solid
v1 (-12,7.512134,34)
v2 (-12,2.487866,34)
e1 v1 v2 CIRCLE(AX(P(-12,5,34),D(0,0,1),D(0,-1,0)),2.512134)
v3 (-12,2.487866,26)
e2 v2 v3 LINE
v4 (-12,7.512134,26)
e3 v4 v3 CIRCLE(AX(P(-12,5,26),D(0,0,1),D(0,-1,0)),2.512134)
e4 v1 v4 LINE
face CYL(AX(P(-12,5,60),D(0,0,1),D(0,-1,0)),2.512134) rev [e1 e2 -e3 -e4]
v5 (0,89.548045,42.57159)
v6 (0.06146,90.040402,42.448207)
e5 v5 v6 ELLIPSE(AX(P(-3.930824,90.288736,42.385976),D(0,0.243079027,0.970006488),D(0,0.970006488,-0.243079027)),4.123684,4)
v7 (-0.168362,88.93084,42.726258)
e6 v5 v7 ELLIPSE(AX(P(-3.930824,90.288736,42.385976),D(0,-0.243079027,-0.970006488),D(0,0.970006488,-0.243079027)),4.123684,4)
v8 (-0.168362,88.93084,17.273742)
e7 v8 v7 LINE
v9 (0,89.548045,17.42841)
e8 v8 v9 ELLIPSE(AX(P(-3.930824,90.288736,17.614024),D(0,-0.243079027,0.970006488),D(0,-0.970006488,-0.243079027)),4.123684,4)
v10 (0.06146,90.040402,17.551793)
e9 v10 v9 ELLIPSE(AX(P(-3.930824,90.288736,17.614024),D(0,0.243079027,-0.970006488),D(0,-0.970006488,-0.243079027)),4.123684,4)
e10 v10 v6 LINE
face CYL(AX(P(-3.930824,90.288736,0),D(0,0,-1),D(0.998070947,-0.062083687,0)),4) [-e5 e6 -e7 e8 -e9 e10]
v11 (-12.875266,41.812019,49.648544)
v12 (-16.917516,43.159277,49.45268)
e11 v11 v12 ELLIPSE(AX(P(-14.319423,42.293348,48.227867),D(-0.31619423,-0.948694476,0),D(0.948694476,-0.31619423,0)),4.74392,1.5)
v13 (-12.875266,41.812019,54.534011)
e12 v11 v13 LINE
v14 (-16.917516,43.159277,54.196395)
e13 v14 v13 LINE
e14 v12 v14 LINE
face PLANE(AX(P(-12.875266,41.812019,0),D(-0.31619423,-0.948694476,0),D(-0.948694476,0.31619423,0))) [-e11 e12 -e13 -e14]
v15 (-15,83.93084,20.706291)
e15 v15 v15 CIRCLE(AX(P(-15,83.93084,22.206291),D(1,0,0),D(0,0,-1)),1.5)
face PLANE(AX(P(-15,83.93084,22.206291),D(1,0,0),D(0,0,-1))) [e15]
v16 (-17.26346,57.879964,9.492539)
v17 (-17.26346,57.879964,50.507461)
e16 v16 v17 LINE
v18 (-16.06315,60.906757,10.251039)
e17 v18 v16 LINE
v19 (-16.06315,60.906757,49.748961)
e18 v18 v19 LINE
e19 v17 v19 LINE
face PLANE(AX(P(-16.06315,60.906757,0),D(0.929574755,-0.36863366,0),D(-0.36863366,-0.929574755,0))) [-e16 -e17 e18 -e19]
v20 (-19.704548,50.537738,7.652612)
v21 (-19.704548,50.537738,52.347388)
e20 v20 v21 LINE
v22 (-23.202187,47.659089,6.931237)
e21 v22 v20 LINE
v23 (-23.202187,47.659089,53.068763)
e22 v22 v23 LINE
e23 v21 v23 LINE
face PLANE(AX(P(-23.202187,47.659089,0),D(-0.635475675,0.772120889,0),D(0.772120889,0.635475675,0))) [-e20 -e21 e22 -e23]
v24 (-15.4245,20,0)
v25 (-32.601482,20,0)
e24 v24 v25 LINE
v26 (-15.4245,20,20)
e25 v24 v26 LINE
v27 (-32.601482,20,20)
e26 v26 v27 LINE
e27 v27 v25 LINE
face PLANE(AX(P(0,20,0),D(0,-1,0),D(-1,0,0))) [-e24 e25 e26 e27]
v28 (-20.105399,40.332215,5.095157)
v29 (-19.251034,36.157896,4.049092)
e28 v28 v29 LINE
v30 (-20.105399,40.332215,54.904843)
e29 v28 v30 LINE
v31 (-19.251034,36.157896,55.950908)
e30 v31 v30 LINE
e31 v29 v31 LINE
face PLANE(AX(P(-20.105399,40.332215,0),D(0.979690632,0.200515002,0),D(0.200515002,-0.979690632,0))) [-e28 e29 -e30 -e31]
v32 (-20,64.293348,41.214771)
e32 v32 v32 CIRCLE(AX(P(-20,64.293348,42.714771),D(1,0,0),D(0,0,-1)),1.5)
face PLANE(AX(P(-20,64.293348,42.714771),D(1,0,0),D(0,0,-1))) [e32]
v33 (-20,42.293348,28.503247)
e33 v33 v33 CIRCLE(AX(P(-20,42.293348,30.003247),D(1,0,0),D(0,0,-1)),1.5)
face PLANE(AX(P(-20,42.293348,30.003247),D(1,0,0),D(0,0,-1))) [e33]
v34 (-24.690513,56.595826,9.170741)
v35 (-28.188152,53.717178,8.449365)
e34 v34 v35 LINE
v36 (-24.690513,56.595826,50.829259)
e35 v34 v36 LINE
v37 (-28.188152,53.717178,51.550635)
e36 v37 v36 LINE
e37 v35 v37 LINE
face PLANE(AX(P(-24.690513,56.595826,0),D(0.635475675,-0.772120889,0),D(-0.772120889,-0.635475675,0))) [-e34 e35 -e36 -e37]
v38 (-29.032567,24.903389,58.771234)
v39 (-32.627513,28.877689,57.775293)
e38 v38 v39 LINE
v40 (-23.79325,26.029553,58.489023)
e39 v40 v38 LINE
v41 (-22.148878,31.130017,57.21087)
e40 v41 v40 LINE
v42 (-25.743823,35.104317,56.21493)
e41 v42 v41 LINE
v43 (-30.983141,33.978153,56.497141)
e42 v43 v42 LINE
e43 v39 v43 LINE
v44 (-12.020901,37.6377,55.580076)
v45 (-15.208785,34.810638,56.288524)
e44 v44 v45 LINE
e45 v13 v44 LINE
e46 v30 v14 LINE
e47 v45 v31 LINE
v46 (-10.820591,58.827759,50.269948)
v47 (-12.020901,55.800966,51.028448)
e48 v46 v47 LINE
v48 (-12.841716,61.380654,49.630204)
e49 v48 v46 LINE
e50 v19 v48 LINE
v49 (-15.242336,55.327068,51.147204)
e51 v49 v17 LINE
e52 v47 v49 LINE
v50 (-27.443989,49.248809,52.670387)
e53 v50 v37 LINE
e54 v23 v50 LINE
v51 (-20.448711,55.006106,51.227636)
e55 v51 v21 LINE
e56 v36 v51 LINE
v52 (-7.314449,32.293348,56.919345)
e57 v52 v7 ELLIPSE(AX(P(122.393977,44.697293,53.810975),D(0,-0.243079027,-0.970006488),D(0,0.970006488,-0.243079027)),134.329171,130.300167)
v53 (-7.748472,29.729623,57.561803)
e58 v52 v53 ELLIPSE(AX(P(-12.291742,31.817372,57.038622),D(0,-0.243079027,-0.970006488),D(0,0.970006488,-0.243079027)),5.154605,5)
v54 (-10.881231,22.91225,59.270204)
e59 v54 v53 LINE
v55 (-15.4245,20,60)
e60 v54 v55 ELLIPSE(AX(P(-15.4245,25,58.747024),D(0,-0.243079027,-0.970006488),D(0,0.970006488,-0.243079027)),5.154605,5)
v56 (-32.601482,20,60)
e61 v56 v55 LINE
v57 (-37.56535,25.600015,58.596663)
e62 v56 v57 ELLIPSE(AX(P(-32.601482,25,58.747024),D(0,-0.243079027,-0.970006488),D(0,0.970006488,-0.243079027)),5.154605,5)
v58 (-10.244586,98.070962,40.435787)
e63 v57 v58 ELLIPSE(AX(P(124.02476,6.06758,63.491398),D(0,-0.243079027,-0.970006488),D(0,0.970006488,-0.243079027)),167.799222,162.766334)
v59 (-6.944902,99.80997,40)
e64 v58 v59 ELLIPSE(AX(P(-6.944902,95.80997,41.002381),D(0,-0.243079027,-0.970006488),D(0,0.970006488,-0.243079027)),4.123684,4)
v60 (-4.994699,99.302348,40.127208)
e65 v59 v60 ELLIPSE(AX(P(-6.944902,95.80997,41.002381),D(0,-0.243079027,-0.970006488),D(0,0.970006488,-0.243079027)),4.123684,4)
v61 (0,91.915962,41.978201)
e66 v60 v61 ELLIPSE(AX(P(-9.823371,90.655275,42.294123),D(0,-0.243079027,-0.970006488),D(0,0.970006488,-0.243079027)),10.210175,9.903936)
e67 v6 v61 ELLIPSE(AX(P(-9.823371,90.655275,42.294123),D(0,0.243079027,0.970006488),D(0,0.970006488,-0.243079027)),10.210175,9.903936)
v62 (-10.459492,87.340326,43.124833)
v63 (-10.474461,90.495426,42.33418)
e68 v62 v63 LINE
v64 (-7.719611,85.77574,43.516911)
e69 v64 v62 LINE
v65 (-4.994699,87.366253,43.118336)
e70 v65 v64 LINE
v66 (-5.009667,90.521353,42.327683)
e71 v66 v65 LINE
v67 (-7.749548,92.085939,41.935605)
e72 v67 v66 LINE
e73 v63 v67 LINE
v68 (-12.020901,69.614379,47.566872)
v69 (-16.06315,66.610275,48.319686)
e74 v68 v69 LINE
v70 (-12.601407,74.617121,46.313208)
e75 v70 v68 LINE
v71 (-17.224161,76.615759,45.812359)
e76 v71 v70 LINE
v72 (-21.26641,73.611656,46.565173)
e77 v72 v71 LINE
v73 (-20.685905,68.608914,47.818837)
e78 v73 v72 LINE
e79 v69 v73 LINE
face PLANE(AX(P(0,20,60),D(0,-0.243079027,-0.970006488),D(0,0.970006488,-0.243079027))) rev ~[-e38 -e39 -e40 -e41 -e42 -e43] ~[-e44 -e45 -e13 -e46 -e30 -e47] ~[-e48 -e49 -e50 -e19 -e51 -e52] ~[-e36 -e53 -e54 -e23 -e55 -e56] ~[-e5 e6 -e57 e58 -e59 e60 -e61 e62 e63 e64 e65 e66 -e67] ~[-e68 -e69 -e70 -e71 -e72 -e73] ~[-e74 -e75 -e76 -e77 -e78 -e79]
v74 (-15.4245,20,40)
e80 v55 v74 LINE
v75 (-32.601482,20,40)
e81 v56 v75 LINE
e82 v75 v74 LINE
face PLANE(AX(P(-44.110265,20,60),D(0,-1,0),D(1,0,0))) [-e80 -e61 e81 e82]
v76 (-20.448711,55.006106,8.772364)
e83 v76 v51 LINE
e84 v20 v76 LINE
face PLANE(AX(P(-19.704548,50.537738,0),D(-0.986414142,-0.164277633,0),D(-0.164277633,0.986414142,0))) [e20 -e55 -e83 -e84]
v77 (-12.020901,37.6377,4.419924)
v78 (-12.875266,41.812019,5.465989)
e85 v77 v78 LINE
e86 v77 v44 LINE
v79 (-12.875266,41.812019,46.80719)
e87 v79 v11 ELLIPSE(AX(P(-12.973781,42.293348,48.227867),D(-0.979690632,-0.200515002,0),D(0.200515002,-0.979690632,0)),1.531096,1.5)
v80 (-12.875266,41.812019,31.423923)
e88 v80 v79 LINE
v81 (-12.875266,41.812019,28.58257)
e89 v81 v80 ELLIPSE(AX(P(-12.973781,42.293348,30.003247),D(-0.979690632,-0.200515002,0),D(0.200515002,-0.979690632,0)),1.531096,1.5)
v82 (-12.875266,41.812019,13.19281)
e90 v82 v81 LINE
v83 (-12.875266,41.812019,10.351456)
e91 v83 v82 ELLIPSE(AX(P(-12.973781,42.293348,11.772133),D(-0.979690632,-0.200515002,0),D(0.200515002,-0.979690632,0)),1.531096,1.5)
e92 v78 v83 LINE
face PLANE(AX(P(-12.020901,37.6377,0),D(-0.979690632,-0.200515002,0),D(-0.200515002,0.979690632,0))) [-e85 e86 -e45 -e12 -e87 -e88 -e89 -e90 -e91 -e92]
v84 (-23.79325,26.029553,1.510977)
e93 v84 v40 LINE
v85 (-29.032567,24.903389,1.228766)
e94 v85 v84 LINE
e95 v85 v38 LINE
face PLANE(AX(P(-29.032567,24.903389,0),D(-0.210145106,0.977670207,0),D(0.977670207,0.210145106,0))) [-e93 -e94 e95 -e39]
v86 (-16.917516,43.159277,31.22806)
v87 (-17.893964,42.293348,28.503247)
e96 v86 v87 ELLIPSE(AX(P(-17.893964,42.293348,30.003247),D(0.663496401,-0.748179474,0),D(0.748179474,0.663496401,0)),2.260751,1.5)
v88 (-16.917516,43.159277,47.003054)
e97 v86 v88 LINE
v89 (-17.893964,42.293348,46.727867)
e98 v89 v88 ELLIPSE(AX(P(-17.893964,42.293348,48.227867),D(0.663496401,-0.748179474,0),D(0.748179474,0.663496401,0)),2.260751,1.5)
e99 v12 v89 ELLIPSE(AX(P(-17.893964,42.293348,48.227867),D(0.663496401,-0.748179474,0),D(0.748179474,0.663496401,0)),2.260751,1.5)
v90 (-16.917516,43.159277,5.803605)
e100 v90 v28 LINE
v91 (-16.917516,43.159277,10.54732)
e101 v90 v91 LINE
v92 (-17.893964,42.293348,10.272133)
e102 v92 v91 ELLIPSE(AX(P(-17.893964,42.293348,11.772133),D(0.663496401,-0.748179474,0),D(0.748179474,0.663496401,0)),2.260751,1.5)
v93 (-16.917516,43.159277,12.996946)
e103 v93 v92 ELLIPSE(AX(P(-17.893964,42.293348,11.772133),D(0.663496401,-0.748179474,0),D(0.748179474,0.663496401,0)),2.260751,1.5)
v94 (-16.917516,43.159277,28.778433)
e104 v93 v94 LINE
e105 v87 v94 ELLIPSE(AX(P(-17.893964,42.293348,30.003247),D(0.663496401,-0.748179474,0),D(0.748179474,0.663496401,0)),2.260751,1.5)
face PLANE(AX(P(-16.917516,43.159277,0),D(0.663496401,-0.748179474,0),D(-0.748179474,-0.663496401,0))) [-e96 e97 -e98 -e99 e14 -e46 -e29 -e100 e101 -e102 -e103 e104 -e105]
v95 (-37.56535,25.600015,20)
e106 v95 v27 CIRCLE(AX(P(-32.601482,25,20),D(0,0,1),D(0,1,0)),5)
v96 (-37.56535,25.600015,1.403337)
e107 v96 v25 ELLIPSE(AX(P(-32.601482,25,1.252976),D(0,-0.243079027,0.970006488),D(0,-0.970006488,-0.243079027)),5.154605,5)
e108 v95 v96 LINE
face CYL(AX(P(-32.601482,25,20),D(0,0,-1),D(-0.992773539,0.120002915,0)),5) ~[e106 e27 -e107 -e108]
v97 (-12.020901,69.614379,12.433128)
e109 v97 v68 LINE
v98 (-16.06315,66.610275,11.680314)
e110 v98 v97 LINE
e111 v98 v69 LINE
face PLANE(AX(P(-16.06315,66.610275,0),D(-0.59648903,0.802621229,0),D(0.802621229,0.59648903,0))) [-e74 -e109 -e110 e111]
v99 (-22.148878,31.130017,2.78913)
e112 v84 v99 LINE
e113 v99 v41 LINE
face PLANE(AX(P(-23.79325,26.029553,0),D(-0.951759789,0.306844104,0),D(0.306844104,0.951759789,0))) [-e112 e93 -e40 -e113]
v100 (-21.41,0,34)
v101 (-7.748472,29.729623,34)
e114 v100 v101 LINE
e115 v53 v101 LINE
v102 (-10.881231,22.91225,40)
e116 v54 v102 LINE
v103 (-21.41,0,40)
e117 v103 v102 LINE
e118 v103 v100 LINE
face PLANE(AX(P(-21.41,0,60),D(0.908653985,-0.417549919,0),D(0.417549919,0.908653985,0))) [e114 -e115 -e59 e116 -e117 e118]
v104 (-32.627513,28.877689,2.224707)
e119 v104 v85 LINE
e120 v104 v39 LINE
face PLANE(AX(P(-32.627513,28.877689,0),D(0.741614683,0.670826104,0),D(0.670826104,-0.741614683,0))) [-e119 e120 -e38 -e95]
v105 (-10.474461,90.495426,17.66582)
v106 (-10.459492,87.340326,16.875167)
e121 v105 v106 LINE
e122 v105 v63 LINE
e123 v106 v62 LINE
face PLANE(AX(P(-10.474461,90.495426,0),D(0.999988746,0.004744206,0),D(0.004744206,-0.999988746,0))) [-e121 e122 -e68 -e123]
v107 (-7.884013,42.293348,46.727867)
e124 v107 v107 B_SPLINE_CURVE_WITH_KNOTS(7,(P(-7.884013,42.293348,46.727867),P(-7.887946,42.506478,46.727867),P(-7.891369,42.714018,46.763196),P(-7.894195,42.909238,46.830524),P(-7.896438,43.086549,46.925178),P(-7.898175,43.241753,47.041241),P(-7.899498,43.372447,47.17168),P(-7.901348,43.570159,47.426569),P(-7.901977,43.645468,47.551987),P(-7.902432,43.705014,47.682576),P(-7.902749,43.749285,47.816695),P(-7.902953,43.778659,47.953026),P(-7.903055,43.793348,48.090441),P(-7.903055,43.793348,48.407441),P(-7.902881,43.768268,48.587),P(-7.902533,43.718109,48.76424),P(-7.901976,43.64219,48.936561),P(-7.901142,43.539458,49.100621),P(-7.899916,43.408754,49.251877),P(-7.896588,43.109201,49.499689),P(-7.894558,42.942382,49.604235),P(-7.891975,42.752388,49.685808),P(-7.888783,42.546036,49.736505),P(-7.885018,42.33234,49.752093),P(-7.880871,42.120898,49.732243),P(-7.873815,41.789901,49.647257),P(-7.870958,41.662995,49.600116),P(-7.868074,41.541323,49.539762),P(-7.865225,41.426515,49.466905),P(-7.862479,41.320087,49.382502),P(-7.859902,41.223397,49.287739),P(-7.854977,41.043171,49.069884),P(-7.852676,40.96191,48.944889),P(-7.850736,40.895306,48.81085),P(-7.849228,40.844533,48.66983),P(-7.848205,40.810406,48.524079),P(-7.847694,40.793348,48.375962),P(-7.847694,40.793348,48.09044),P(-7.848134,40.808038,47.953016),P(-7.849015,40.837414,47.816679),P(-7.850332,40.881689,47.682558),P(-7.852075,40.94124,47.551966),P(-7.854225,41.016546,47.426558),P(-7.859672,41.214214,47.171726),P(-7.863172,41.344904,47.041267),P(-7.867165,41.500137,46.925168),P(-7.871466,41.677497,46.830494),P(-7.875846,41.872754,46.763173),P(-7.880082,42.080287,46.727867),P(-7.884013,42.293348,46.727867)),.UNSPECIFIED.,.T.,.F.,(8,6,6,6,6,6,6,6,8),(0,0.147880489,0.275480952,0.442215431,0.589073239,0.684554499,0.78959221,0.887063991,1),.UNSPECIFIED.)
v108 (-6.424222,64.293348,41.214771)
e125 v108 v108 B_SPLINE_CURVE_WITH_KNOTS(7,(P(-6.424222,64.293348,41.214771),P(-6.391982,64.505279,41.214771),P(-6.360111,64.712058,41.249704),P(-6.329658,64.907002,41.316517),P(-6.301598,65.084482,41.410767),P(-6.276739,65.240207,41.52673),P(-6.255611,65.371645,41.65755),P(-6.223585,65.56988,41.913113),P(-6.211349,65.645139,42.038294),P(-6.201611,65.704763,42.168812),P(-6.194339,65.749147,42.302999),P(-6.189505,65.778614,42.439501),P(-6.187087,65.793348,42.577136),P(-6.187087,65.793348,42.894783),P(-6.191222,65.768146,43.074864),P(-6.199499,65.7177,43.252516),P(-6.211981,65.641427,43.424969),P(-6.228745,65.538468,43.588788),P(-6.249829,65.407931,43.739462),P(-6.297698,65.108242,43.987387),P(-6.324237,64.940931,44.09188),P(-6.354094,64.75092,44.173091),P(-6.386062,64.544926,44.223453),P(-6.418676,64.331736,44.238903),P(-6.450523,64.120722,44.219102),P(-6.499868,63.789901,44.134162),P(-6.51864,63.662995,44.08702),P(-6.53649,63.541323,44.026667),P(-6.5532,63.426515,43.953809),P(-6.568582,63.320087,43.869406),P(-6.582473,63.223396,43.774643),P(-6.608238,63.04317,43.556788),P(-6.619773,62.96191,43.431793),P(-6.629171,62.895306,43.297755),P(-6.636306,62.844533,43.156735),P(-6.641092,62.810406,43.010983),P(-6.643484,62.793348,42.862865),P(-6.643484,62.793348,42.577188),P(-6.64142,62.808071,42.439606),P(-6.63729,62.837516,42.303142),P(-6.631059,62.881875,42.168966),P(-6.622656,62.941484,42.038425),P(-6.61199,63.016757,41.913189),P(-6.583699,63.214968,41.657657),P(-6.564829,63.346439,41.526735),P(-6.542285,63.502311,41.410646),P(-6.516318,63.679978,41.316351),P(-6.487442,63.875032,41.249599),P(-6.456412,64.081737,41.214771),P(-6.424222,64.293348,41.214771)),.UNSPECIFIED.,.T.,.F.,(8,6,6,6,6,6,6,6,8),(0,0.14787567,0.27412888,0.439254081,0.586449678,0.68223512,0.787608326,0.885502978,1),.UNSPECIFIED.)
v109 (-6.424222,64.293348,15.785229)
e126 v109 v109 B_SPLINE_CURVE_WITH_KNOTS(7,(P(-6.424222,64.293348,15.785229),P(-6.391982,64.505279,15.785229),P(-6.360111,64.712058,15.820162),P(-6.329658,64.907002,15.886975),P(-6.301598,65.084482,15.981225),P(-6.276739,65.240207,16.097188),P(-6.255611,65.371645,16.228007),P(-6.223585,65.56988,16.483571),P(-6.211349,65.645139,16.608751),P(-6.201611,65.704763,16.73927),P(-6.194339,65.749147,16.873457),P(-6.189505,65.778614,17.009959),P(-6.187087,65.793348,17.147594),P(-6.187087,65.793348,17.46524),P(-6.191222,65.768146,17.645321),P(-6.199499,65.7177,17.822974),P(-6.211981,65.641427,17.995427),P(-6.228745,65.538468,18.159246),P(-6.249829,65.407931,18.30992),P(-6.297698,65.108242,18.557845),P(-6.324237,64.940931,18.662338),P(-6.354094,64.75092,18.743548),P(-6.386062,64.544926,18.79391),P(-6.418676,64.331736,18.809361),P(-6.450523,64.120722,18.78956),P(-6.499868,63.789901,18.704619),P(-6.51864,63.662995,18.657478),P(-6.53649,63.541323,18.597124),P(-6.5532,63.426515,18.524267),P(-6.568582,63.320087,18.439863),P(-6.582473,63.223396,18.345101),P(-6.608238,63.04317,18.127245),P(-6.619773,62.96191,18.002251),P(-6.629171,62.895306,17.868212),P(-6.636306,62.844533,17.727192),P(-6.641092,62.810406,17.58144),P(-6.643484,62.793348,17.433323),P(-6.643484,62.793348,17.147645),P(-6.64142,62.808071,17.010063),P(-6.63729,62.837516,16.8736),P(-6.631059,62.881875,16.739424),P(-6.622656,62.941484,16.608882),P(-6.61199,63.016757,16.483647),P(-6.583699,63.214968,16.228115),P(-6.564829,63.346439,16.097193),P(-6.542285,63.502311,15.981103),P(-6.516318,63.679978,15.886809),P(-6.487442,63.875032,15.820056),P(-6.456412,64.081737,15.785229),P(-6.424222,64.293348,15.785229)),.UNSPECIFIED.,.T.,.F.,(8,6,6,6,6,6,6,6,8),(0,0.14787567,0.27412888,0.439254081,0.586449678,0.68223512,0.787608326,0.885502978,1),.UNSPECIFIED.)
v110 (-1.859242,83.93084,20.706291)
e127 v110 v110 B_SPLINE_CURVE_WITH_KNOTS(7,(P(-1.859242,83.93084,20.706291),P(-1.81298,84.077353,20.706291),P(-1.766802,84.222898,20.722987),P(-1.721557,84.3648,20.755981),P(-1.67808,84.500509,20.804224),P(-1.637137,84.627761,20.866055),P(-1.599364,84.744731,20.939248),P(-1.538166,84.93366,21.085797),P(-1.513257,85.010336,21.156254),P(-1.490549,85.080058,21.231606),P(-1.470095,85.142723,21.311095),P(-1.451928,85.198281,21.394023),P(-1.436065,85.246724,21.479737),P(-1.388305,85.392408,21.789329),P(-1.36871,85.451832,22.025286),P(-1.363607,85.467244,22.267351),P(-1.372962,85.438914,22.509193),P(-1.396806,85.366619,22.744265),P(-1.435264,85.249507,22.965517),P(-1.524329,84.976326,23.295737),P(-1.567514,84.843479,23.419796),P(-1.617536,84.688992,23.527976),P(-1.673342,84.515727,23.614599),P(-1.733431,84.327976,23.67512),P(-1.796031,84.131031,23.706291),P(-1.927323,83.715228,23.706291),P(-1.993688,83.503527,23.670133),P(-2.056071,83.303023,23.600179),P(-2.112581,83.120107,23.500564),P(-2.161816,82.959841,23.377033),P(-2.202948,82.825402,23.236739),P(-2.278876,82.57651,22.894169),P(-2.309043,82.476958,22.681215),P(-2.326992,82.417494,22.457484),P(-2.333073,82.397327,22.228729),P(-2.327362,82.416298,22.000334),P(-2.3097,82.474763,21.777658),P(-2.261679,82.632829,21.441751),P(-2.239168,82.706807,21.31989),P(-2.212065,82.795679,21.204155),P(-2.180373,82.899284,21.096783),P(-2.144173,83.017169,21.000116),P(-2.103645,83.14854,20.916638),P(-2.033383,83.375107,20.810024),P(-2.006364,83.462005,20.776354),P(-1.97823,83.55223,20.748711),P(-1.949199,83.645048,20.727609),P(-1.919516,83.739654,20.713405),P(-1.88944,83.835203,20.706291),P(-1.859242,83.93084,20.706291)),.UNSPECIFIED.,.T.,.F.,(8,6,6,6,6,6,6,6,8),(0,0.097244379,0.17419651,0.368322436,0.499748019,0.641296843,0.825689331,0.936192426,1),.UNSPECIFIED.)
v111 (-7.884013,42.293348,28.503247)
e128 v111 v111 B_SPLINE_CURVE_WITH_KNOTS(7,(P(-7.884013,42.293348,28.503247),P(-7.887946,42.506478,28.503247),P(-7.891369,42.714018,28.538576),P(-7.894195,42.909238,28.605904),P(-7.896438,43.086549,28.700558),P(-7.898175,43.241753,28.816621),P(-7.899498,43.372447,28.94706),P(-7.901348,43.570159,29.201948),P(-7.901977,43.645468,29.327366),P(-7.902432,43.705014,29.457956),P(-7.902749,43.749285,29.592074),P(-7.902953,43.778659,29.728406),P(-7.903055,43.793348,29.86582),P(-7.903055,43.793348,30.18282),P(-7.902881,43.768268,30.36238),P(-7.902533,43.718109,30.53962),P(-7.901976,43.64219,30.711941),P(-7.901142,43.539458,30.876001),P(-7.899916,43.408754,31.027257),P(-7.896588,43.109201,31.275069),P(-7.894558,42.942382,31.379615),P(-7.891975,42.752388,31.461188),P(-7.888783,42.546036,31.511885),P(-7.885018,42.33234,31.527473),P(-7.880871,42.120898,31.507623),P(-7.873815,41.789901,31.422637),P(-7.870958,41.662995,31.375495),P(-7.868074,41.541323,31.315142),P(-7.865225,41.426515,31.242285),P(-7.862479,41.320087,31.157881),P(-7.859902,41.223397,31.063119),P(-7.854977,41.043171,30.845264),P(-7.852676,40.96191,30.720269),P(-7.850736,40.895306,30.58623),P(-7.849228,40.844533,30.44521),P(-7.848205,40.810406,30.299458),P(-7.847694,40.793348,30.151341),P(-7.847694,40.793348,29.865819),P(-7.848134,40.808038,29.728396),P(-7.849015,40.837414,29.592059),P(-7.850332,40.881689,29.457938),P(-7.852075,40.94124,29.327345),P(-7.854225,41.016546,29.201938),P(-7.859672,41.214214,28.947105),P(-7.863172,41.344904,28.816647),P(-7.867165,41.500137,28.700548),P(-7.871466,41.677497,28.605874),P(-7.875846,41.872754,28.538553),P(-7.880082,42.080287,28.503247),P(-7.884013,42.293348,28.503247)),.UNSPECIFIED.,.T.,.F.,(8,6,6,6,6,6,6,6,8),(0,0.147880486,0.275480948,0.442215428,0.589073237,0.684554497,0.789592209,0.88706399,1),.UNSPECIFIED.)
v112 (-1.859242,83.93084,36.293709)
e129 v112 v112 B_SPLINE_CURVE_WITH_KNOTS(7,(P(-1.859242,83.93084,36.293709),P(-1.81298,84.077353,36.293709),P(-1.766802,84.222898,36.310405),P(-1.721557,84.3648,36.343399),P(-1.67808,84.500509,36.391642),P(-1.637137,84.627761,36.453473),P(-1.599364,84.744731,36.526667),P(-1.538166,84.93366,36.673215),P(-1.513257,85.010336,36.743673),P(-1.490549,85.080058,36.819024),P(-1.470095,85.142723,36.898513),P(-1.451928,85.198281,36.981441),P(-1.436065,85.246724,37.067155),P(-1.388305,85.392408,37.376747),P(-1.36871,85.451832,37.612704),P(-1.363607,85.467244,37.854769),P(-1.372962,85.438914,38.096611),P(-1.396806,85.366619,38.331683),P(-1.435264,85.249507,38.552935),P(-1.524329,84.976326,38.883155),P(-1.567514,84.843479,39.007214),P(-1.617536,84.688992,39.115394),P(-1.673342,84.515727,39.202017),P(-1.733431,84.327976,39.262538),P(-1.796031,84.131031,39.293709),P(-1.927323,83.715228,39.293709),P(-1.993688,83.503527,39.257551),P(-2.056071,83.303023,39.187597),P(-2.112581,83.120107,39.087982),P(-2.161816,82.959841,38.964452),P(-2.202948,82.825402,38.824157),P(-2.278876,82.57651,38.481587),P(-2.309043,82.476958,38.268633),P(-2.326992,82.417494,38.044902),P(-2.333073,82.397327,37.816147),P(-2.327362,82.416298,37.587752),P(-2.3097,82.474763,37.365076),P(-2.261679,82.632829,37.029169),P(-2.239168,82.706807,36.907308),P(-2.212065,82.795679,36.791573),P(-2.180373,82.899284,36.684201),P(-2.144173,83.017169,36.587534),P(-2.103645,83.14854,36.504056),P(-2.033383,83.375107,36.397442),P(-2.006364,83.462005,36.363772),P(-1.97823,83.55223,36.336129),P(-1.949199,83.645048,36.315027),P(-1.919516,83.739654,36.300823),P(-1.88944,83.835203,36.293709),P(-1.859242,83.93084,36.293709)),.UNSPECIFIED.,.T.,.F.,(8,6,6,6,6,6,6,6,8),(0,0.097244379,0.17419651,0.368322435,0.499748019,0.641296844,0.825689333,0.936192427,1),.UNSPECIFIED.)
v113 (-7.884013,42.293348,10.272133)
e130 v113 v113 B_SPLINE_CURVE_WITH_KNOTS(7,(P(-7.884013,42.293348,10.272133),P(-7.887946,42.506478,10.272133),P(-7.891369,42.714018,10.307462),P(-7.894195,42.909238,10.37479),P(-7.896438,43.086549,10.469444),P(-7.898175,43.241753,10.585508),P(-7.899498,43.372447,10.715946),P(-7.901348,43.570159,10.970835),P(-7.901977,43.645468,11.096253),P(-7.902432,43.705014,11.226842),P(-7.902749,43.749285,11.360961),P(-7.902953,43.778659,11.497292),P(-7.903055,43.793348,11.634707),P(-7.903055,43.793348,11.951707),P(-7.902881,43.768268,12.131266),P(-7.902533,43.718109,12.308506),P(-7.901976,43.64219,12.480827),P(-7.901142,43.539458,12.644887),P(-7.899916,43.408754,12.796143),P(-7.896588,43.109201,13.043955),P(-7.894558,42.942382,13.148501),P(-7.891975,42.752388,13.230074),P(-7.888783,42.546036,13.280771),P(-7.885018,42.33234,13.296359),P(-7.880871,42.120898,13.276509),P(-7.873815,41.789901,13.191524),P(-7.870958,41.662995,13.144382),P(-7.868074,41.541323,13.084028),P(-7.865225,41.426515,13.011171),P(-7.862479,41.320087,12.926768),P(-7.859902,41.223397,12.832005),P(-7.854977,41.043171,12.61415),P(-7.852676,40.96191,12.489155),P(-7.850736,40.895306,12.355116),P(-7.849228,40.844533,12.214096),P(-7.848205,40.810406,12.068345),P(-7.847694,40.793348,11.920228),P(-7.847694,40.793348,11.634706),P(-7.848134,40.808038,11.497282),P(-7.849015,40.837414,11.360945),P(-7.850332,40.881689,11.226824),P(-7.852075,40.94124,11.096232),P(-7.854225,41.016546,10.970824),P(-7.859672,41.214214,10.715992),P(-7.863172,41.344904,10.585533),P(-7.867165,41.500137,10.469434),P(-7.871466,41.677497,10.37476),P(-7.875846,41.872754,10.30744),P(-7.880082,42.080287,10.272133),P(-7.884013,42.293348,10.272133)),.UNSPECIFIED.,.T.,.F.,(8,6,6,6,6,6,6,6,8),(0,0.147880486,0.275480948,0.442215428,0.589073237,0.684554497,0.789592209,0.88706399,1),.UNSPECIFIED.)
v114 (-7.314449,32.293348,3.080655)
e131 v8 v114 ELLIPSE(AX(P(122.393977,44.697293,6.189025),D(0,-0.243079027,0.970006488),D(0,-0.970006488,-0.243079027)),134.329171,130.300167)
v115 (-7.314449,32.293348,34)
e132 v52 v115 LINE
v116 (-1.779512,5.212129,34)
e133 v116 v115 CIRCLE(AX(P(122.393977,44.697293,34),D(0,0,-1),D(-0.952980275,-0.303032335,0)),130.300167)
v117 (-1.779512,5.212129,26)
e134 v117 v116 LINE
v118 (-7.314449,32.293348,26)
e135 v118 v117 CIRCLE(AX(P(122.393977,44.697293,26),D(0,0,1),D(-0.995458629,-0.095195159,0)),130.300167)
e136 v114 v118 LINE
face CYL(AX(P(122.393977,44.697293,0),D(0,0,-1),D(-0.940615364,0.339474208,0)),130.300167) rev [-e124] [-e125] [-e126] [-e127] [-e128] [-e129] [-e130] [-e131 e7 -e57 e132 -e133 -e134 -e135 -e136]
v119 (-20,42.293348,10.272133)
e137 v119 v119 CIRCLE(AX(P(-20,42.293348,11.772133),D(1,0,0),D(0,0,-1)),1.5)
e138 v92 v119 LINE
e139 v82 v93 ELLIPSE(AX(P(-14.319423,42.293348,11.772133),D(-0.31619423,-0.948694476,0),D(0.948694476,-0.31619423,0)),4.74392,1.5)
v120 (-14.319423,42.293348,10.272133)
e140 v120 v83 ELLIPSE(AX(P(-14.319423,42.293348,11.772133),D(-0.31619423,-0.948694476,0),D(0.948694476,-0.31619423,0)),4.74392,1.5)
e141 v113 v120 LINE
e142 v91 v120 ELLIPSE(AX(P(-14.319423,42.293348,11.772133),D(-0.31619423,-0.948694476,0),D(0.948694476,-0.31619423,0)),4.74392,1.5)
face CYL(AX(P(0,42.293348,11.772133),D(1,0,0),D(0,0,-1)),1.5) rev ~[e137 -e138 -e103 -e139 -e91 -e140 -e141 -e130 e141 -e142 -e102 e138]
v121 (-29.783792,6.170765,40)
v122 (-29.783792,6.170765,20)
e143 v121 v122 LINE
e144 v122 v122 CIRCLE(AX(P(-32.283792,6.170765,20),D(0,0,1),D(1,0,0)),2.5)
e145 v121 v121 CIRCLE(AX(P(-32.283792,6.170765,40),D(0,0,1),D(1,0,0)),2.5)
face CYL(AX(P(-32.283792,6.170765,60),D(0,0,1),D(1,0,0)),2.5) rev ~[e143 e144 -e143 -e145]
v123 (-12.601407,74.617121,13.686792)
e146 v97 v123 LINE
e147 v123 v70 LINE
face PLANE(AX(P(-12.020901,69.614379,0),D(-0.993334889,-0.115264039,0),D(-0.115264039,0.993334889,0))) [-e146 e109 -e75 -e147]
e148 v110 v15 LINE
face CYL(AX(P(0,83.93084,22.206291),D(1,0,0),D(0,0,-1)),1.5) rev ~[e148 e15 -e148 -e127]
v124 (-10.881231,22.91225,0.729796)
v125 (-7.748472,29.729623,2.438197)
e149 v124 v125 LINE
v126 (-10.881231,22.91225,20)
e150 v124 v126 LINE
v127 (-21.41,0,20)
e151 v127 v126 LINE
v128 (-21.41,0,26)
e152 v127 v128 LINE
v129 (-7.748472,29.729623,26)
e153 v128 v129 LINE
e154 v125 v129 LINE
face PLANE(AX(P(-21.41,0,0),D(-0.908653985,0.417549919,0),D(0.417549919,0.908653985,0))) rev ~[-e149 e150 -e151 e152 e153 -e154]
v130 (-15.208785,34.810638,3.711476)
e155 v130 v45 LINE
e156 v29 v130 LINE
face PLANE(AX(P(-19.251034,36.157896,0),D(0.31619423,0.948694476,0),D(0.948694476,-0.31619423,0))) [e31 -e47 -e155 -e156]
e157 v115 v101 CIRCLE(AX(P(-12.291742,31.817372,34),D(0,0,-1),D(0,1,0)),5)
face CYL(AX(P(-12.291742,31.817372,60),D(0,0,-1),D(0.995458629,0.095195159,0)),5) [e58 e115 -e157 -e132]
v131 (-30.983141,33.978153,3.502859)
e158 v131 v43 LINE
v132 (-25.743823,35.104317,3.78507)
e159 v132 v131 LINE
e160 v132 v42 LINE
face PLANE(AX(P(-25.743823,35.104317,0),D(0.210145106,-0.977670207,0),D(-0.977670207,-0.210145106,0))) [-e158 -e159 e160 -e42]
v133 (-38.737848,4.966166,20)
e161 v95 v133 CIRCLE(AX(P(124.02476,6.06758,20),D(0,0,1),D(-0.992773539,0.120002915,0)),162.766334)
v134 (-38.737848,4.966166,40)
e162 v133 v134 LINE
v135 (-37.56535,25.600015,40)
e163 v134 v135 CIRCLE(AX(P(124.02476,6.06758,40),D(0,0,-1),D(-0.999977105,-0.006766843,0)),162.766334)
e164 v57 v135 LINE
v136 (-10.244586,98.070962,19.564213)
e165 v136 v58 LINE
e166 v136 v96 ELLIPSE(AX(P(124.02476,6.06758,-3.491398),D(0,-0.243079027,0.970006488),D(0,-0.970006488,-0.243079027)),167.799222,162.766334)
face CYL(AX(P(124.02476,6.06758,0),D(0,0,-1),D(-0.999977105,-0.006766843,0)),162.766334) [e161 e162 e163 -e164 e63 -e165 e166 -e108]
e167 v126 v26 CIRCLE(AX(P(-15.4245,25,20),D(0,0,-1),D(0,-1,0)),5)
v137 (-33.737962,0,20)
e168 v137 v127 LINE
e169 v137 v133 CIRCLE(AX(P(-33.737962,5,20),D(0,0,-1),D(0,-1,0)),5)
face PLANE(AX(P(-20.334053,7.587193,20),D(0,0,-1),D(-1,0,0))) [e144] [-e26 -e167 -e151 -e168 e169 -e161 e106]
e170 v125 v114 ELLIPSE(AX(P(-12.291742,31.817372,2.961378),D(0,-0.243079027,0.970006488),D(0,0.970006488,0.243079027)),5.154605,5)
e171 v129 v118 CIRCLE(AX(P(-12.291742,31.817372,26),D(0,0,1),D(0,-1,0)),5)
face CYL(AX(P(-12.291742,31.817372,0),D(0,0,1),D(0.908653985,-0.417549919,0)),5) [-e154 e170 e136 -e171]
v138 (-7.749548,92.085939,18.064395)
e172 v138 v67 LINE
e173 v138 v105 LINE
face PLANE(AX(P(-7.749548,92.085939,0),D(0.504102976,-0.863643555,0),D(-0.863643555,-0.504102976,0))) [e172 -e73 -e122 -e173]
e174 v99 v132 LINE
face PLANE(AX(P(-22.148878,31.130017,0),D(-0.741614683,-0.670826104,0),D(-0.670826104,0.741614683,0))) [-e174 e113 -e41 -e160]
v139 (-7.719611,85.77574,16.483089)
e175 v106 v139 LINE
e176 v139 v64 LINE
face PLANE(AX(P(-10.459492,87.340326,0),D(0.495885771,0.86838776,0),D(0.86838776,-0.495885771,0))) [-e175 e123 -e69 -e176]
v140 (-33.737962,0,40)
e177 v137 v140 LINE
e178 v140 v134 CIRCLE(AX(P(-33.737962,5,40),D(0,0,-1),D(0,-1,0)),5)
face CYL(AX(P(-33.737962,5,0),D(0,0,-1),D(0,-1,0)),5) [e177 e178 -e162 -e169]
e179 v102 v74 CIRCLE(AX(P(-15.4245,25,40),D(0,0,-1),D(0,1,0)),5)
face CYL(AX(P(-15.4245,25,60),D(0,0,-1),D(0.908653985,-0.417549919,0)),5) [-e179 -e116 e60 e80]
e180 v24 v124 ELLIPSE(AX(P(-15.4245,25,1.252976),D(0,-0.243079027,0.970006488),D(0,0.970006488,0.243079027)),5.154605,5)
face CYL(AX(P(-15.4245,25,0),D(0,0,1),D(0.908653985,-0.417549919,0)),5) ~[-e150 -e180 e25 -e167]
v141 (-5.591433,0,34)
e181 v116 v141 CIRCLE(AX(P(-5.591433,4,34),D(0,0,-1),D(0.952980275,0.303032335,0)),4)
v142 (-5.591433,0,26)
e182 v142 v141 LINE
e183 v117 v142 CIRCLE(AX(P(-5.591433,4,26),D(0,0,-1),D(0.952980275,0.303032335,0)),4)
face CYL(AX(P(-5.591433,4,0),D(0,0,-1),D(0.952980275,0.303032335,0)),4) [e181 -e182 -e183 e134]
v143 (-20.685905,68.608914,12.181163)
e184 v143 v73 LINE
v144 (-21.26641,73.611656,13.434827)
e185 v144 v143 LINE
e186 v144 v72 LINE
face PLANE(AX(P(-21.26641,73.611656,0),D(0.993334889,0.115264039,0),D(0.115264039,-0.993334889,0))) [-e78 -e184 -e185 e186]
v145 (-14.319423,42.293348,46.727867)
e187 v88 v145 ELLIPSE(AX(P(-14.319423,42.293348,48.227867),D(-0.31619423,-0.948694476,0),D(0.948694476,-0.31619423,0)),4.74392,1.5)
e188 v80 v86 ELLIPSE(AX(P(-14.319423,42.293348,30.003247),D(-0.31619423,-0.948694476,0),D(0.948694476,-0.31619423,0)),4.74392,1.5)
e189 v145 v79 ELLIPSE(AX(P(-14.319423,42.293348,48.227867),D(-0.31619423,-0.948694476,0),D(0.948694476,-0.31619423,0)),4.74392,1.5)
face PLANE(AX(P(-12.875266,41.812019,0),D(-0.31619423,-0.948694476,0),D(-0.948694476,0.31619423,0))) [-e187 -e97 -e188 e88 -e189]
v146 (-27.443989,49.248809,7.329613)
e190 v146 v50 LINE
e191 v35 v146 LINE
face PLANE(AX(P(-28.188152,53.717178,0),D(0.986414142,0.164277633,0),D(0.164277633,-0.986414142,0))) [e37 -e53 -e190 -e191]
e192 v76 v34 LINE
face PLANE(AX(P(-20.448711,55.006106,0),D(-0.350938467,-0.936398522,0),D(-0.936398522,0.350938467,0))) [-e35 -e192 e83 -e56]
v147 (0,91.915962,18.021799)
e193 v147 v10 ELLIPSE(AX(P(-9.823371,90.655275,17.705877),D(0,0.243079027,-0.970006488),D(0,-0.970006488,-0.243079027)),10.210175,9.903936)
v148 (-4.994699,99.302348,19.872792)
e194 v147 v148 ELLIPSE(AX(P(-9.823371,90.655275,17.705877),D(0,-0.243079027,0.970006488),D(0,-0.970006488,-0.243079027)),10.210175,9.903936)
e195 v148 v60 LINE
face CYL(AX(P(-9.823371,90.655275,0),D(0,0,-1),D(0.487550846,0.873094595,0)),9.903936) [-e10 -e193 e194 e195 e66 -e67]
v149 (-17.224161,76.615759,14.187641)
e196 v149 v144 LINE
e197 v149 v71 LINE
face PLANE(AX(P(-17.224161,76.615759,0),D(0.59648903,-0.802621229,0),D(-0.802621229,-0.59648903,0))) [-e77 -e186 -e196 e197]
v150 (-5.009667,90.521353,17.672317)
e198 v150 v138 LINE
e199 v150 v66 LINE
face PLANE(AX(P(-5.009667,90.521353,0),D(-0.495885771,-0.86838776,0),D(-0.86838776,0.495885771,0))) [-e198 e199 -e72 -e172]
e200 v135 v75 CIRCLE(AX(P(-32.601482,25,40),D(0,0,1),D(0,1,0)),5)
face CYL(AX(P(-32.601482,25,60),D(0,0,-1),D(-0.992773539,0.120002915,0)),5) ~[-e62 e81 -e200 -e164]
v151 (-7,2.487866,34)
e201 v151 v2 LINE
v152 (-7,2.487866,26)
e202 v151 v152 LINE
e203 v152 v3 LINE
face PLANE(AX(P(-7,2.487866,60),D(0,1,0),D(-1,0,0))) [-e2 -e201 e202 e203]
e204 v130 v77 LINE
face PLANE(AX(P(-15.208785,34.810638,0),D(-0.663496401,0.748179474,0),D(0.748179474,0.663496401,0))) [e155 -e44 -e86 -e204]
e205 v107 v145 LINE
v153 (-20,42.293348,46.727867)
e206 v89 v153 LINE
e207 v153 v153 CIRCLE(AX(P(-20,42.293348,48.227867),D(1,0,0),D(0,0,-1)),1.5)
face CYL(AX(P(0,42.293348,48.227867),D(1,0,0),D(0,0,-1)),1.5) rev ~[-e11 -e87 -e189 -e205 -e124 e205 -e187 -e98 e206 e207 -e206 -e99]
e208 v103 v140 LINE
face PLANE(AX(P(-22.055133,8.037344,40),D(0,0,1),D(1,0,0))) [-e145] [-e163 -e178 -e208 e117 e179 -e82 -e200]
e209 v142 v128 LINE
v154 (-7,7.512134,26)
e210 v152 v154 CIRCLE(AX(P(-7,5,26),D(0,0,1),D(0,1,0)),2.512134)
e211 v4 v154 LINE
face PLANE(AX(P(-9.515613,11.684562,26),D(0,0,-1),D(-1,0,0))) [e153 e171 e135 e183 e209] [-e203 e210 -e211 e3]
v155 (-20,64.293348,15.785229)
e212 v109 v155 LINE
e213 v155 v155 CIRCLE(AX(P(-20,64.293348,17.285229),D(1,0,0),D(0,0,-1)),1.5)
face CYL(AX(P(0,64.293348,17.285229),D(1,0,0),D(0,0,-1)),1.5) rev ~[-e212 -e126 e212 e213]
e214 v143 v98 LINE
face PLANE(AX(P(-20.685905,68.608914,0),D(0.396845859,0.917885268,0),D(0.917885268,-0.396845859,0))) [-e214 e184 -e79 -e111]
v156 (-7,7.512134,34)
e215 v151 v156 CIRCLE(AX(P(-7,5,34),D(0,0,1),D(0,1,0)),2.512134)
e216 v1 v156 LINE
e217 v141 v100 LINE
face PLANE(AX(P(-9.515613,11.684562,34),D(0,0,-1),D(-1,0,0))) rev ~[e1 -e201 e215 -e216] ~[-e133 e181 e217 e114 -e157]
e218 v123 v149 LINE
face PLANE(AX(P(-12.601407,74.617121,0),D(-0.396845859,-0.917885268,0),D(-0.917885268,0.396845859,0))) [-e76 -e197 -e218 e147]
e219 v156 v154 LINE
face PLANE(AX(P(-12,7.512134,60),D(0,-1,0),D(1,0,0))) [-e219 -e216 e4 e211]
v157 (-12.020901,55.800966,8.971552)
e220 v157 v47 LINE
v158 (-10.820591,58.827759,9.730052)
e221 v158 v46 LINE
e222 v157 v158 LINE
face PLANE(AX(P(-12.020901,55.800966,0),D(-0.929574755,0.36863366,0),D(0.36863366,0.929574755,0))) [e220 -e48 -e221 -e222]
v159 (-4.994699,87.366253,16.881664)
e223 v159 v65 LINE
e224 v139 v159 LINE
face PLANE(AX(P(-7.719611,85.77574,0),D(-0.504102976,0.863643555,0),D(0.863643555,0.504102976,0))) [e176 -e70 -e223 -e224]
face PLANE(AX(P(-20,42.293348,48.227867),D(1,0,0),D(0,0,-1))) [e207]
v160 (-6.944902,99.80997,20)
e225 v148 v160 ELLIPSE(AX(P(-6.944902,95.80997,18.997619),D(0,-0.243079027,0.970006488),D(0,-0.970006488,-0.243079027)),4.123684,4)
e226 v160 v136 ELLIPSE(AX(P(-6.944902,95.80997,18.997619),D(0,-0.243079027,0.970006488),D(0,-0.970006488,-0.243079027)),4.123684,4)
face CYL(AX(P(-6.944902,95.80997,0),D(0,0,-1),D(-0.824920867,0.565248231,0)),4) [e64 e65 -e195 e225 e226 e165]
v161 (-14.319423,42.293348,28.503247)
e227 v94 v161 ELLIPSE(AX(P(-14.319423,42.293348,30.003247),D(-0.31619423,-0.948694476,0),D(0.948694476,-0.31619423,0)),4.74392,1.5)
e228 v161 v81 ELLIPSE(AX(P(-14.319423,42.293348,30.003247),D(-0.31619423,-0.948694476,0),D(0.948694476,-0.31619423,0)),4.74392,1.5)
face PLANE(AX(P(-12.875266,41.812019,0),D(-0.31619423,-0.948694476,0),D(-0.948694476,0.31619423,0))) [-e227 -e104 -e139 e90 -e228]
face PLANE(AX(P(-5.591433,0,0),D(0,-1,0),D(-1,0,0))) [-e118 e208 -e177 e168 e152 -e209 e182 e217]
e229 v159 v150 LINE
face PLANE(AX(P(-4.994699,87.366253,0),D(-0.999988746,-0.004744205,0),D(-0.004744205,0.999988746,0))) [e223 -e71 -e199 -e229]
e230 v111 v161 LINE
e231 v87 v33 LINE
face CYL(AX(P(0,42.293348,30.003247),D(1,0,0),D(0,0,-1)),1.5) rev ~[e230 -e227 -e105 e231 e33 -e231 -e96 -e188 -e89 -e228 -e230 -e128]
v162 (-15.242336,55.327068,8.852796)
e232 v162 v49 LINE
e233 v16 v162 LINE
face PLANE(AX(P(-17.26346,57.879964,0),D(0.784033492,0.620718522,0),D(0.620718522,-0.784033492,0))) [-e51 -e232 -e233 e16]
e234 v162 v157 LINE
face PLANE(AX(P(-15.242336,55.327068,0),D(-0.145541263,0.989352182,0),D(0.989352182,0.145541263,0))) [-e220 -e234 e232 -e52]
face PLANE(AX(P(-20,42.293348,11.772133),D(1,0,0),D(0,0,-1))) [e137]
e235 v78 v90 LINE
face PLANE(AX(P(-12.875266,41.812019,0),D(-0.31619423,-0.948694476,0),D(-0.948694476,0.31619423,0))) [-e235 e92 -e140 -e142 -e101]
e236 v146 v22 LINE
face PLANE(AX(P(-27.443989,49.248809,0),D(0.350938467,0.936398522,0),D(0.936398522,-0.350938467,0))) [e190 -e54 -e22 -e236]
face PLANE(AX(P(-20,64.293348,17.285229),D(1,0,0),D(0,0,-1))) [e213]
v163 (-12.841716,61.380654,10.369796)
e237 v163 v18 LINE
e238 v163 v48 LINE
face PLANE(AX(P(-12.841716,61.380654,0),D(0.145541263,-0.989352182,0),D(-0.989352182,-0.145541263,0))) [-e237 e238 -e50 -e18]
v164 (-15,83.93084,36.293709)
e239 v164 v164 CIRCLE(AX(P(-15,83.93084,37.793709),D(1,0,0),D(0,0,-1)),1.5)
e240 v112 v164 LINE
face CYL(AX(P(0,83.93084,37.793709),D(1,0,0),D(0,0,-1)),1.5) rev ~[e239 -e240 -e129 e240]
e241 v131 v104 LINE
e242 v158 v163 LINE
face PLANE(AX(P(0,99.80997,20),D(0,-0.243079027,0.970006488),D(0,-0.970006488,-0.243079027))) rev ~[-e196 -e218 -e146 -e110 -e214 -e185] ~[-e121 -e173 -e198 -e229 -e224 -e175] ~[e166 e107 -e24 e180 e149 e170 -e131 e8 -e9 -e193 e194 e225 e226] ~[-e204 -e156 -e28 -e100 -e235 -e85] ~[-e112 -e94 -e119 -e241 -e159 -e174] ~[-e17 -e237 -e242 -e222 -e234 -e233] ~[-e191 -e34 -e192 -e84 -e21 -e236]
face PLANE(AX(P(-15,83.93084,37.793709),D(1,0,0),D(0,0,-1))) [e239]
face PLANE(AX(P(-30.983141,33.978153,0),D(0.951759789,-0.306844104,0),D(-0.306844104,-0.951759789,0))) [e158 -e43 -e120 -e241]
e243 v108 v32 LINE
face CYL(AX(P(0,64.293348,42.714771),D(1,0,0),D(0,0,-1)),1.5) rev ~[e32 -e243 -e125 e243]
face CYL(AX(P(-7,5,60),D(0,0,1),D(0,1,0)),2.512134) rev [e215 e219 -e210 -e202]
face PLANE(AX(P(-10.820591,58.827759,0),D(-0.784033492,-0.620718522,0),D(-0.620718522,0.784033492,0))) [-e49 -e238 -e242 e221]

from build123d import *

# Parameters (mm, degrees)
BOSS_EXTRUDE4_DEPTH = 60
CUT_EXTRUDE2_DEPTH  = 60
SKETCH8_R           = 2.5
CUT_EXTRUDE3_DEPTH  = 60
CUT_EXTRUDE4_DEPTH  = 26
CUT_EXTRUDE5_DEPTH  = 26
SKETCH11_W          = 44.110265297
SKETCH11_H          = 23.925311971
CUT_EXTRUDE6_DEPTH  = 20
SKETCH12_W          = 40.66810553
SKETCH12_H          = 24.82561344
CUT_EXTRUDE7_DEPTH  = 20
FILLET1_R           = 5
FILLET2_R           = 5
FILLET3_R           = 5
FILLET4_R           = 5
FILLET5_R           = 5
FILLET6_R           = 5
CUT_EXTRUDE8_DEPTH  = 53
CUT_EXTRUDE9_DEPTH  = 40
CUT_EXTRUDE10_DEPTH = 40
CUT_EXTRUDE11_DEPTH = 49
SKETCH17_R          = 1.5
CUT_EXTRUDE12_DEPTH = 20
SKETCH18_R          = 1.5
CUT_EXTRUDE13_DEPTH = 20
SKETCH20_R          = 1.5
CUT_EXTRUDE14_DEPTH = 20
SKETCH21_R          = 1.5
CUT_EXTRUDE15_DEPTH = 20
SKETCH22_R          = 1.5
CUT_EXTRUDE16_DEPTH = 20
SKETCH23_R          = 1.5
CUT_EXTRUDE17_DEPTH = 15
SKETCH24_R          = 1.5
CUT_EXTRUDE18_DEPTH = 15


with BuildPart() as part:
    # Sketch5 → Boss-Extrude4 (new body)
    with BuildSketch(Plane.XY):
        with BuildLine():
            Line((-5.591433469, 0), (-33.737961989, 0))
            ThreePointArc((-33.737961989, 0), (-37.261513388, 1.45252406), (-38.737847513, 4.966165783))
            ThreePointArc((-38.737847513, 4.966165783), (-31.616240623, 53.699065918), (-10.244585549, 98.070962427))
            ThreePointArc((-10.244585549, 98.070962427), (-7.858330599, 99.704279242), (-4.994698694, 99.302347885))
            ThreePointArc((-4.994698694, 99.302347885), (-1.130402236, 95.400824643), (0.061459935, 90.040401592))
            ThreePointArc((0.061459935, 90.040401592), (-0.013962808, 89.477441364), (-0.168362399, 88.93083952))
            ThreePointArc((-0.168362399, 88.93083952), (-7.882068029, 47.204430035), (-1.77951237, 5.212129342))
            ThreePointArc((-1.77951237, 5.212129342), (-2.362771411, 1.638699232), (-5.591433469, 0))
        make_face()
        Polygon((-23.793249775, 26.029552985), (-22.148877555, 31.130017156), (-25.743822989, 35.104317357), (-30.983140641, 33.978153386), (-32.627512861, 28.877689216), (-29.032567427, 24.903389015), align=None, mode=Mode.SUBTRACT)
        Polygon((-19.704548153, 50.537737556), (-20.448711238, 55.006105989), (-24.690513357, 56.595826069), (-28.18815239, 53.717177716), (-27.443989306, 49.248809284), (-23.202187187, 47.659089203), align=None, mode=Mode.SUBTRACT)
        Polygon((-12.020901099, 69.614378519), (-12.60140651, 74.617120781), (-17.224161103, 76.615759479), (-21.266410285, 73.611655915), (-20.685904874, 68.608913653), (-16.063150281, 66.610274955), align=None, mode=Mode.SUBTRACT)
        Polygon((-4.994698694, 87.366252749), (-5.009667304, 90.521352685), (-7.749548306, 92.085939457), (-10.474460698, 90.495426291), (-10.459492087, 87.340326355), (-7.719611085, 85.775739583), align=None, mode=Mode.SUBTRACT)
        Polygon((-12.020901099, 37.637700147), (-12.875266359, 41.812019441), (-16.917515541, 43.159277068), (-20.105399463, 40.332215402), (-19.251034203, 36.157896108), (-15.208785021, 34.810638481), align=None, mode=Mode.SUBTRACT)
        Polygon((-12.020901099, 55.800966029), (-10.82059125, 58.827758896), (-12.841715841, 61.380654151), (-16.063150281, 60.906756539), (-17.263460129, 57.879963671), (-15.242335538, 55.327068416), align=None, mode=Mode.SUBTRACT)
    extrude(amount=BOSS_EXTRUDE4_DEPTH)

    # Sketch7 → Cut-Extrude2 (cut)
    with BuildSketch(Plane.XY.offset(60)):
        with BuildLine():
            Line((-12, 7.5121344), (-7, 7.5121344))
            ThreePointArc((-7, 7.5121344), (-4.4878656, 5), (-7, 2.4878656))
            Line((-7, 2.4878656), (-12, 2.4878656))
            ThreePointArc((-12, 2.4878656), (-14.5121344, 5), (-12, 7.5121344))
        make_face()
    extrude(amount=-CUT_EXTRUDE2_DEPTH, mode=Mode.SUBTRACT)

    # Sketch8 → Cut-Extrude3 (cut)
    with BuildSketch(Plane.XY.offset(60)):
        with Locations((-32.283791832, 6.170765259)):
            Circle(SKETCH8_R)
    extrude(amount=-CUT_EXTRUDE3_DEPTH, mode=Mode.SUBTRACT)

    # Sketch9 → Cut-Extrude4 (cut)
    with BuildSketch(Plane.XY):
        Polygon((0, 0), (-21.41, 0), (-7.180593074, 30.965416872), align=None)
    extrude(amount=CUT_EXTRUDE4_DEPTH, mode=Mode.SUBTRACT)

    # Sketch10 → Cut-Extrude5 (cut)
    with BuildSketch(Plane.XY.offset(60)):
        Polygon((0, 0), (-21.41, 0), (-7.180593074, 30.965416872), align=None)
    extrude(amount=-CUT_EXTRUDE5_DEPTH, mode=Mode.SUBTRACT)

    # Sketch11 → Cut-Extrude6 (cut)
    with BuildSketch(Plane.XY.offset(60)):
        with Locations((-22.055132649, 8.037344015)):
            Rectangle(SKETCH11_W, SKETCH11_H)
    extrude(amount=-CUT_EXTRUDE6_DEPTH, mode=Mode.SUBTRACT)

    # Sketch12 → Cut-Extrude7 (cut)
    with BuildSketch(Plane(origin=(0, 0, 0), x_dir=(-1, 0, 0), z_dir=(0, 0, -1))):
        with Locations((20.334052765, 7.58719328)):
            Rectangle(SKETCH12_W, SKETCH12_H)
    extrude(amount=-CUT_EXTRUDE7_DEPTH, mode=Mode.SUBTRACT)

    # Fillet1
    fillet1_edges = [part.edges().sort_by_distance(p)[0] for p in [
        (-12.219484668, 20, 50),
    ]]
    fillet(fillet1_edges, radius=FILLET1_R)

    # Fillet2
    fillet2_edges = [part.edges().sort_by_distance(p)[0] for p in [
        (-7.180593074, 30.965416872, 47),
    ]]
    fillet(fillet2_edges, radius=FILLET2_R)

    # Fillet3
    fillet3_edges = [part.edges().sort_by_distance(p)[0] for p in [
        (-12.219484668, 20, 10),
    ]]
    fillet(fillet3_edges, radius=FILLET3_R)

    # Fillet4
    fillet4_edges = [part.edges().sort_by_distance(p)[0] for p in [
        (-7.180593074, 30.965416872, 13),
    ]]
    fillet(fillet4_edges, radius=FILLET4_R)

    # Fillet5
    fillet5_edges = [part.edges().sort_by_distance(p)[0] for p in [
        (-38.144186452, 20, 10),
    ]]
    fillet(fillet5_edges, radius=FILLET5_R)

    # Fillet6
    fillet6_edges = [part.edges().sort_by_distance(p)[0] for p in [
        (-38.144186452, 20, 50),
    ]]
    fillet(fillet6_edges, radius=FILLET6_R)

    # Sketch15 → Cut-Extrude8 (cut)
    with BuildSketch(Plane(origin=(0, 0, 0), x_dir=(0, 0, -1), z_dir=(1, 0, 0))):
        Polygon((-60, 20), (-40, 99.809969504), (-60, 99.809969504), align=None)
    extrude(amount=-CUT_EXTRUDE8_DEPTH, mode=Mode.SUBTRACT)

    # Sketch15<2> → Cut-Extrude9 (cut)
    with BuildSketch(Plane(origin=(0, 0, 0), x_dir=(0, 0, -1), z_dir=(1, 0, 0))):
        Polygon((-60, 20), (-40, 99.809969504), (-60, 99.809969504), align=None)
    extrude(amount=CUT_EXTRUDE9_DEPTH, mode=Mode.SUBTRACT)

    # Sketch16 → Cut-Extrude10 (cut)
    with BuildSketch(Plane(origin=(0, 0, 0), x_dir=(0, 0, -1), z_dir=(1, 0, 0))):
        Polygon((0, 20), (0, 99.809969504), (-20, 99.809969504), align=None)
    extrude(amount=-CUT_EXTRUDE10_DEPTH, mode=Mode.SUBTRACT)

    # Sketch16<2> → Cut-Extrude11 (cut)
    with BuildSketch(Plane(origin=(0, 0, 0), x_dir=(0, 0, -1), z_dir=(1, 0, 0))):
        Polygon((0, 20), (0, 99.809969504), (-20, 99.809969504), align=None)
    extrude(amount=CUT_EXTRUDE11_DEPTH, mode=Mode.SUBTRACT)

    # Sketch17 → Cut-Extrude12 (cut)
    with BuildSketch(Plane(origin=(0, 0, 0), x_dir=(0, 0, -1), z_dir=(1, 0, 0))):
        with Locations((-48.227866977, 42.293348251)):
            Circle(SKETCH17_R)
    extrude(amount=-CUT_EXTRUDE12_DEPTH, mode=Mode.SUBTRACT)

    # Sketch18 → Cut-Extrude13 (cut)
    with BuildSketch(Plane(origin=(0, 0, 0), x_dir=(0, 0, -1), z_dir=(1, 0, 0))):
        with Locations((-11.772133023, 42.293348251)):
            Circle(SKETCH18_R)
    extrude(amount=-CUT_EXTRUDE13_DEPTH, mode=Mode.SUBTRACT)

    # Sketch20 → Cut-Extrude14 (cut)
    with BuildSketch(Plane(origin=(0, 0, 0), x_dir=(0, 0, -1), z_dir=(1, 0, 0))):
        with Locations((-30.003246604, 42.293348251)):
            Circle(SKETCH20_R)
    extrude(amount=-CUT_EXTRUDE14_DEPTH, mode=Mode.SUBTRACT)

    # Sketch21 → Cut-Extrude15 (cut)
    with BuildSketch(Plane(origin=(0, 0, 0), x_dir=(0, 0, -1), z_dir=(1, 0, 0))):
        with Locations((-42.714771273, 64.293348251)):
            Circle(SKETCH21_R)
    extrude(amount=-CUT_EXTRUDE15_DEPTH, mode=Mode.SUBTRACT)

    # Sketch22 → Cut-Extrude16 (cut)
    with BuildSketch(Plane(origin=(0, 0, 0), x_dir=(0, 0, -1), z_dir=(1, 0, 0))):
        with Locations((-17.285228727, 64.293348251)):
            Circle(SKETCH22_R)
    extrude(amount=-CUT_EXTRUDE16_DEPTH, mode=Mode.SUBTRACT)

    # Sketch23 → Cut-Extrude17 (cut)
    with BuildSketch(Plane(origin=(0, 0, 0), x_dir=(0, 0, -1), z_dir=(1, 0, 0))):
        with Locations((-37.793709057, 83.93083952)):
            Circle(SKETCH23_R)
    extrude(amount=-CUT_EXTRUDE17_DEPTH, mode=Mode.SUBTRACT)

    # Sketch24 → Cut-Extrude18 (cut)
    with BuildSketch(Plane(origin=(0, 0, 0), x_dir=(0, 0, -1), z_dir=(1, 0, 0))):
        with Locations((-22.206290943, 83.93083952)):
            Circle(SKETCH24_R)
    extrude(amount=-CUT_EXTRUDE18_DEPTH, mode=Mode.SUBTRACT)


solid = part.part
